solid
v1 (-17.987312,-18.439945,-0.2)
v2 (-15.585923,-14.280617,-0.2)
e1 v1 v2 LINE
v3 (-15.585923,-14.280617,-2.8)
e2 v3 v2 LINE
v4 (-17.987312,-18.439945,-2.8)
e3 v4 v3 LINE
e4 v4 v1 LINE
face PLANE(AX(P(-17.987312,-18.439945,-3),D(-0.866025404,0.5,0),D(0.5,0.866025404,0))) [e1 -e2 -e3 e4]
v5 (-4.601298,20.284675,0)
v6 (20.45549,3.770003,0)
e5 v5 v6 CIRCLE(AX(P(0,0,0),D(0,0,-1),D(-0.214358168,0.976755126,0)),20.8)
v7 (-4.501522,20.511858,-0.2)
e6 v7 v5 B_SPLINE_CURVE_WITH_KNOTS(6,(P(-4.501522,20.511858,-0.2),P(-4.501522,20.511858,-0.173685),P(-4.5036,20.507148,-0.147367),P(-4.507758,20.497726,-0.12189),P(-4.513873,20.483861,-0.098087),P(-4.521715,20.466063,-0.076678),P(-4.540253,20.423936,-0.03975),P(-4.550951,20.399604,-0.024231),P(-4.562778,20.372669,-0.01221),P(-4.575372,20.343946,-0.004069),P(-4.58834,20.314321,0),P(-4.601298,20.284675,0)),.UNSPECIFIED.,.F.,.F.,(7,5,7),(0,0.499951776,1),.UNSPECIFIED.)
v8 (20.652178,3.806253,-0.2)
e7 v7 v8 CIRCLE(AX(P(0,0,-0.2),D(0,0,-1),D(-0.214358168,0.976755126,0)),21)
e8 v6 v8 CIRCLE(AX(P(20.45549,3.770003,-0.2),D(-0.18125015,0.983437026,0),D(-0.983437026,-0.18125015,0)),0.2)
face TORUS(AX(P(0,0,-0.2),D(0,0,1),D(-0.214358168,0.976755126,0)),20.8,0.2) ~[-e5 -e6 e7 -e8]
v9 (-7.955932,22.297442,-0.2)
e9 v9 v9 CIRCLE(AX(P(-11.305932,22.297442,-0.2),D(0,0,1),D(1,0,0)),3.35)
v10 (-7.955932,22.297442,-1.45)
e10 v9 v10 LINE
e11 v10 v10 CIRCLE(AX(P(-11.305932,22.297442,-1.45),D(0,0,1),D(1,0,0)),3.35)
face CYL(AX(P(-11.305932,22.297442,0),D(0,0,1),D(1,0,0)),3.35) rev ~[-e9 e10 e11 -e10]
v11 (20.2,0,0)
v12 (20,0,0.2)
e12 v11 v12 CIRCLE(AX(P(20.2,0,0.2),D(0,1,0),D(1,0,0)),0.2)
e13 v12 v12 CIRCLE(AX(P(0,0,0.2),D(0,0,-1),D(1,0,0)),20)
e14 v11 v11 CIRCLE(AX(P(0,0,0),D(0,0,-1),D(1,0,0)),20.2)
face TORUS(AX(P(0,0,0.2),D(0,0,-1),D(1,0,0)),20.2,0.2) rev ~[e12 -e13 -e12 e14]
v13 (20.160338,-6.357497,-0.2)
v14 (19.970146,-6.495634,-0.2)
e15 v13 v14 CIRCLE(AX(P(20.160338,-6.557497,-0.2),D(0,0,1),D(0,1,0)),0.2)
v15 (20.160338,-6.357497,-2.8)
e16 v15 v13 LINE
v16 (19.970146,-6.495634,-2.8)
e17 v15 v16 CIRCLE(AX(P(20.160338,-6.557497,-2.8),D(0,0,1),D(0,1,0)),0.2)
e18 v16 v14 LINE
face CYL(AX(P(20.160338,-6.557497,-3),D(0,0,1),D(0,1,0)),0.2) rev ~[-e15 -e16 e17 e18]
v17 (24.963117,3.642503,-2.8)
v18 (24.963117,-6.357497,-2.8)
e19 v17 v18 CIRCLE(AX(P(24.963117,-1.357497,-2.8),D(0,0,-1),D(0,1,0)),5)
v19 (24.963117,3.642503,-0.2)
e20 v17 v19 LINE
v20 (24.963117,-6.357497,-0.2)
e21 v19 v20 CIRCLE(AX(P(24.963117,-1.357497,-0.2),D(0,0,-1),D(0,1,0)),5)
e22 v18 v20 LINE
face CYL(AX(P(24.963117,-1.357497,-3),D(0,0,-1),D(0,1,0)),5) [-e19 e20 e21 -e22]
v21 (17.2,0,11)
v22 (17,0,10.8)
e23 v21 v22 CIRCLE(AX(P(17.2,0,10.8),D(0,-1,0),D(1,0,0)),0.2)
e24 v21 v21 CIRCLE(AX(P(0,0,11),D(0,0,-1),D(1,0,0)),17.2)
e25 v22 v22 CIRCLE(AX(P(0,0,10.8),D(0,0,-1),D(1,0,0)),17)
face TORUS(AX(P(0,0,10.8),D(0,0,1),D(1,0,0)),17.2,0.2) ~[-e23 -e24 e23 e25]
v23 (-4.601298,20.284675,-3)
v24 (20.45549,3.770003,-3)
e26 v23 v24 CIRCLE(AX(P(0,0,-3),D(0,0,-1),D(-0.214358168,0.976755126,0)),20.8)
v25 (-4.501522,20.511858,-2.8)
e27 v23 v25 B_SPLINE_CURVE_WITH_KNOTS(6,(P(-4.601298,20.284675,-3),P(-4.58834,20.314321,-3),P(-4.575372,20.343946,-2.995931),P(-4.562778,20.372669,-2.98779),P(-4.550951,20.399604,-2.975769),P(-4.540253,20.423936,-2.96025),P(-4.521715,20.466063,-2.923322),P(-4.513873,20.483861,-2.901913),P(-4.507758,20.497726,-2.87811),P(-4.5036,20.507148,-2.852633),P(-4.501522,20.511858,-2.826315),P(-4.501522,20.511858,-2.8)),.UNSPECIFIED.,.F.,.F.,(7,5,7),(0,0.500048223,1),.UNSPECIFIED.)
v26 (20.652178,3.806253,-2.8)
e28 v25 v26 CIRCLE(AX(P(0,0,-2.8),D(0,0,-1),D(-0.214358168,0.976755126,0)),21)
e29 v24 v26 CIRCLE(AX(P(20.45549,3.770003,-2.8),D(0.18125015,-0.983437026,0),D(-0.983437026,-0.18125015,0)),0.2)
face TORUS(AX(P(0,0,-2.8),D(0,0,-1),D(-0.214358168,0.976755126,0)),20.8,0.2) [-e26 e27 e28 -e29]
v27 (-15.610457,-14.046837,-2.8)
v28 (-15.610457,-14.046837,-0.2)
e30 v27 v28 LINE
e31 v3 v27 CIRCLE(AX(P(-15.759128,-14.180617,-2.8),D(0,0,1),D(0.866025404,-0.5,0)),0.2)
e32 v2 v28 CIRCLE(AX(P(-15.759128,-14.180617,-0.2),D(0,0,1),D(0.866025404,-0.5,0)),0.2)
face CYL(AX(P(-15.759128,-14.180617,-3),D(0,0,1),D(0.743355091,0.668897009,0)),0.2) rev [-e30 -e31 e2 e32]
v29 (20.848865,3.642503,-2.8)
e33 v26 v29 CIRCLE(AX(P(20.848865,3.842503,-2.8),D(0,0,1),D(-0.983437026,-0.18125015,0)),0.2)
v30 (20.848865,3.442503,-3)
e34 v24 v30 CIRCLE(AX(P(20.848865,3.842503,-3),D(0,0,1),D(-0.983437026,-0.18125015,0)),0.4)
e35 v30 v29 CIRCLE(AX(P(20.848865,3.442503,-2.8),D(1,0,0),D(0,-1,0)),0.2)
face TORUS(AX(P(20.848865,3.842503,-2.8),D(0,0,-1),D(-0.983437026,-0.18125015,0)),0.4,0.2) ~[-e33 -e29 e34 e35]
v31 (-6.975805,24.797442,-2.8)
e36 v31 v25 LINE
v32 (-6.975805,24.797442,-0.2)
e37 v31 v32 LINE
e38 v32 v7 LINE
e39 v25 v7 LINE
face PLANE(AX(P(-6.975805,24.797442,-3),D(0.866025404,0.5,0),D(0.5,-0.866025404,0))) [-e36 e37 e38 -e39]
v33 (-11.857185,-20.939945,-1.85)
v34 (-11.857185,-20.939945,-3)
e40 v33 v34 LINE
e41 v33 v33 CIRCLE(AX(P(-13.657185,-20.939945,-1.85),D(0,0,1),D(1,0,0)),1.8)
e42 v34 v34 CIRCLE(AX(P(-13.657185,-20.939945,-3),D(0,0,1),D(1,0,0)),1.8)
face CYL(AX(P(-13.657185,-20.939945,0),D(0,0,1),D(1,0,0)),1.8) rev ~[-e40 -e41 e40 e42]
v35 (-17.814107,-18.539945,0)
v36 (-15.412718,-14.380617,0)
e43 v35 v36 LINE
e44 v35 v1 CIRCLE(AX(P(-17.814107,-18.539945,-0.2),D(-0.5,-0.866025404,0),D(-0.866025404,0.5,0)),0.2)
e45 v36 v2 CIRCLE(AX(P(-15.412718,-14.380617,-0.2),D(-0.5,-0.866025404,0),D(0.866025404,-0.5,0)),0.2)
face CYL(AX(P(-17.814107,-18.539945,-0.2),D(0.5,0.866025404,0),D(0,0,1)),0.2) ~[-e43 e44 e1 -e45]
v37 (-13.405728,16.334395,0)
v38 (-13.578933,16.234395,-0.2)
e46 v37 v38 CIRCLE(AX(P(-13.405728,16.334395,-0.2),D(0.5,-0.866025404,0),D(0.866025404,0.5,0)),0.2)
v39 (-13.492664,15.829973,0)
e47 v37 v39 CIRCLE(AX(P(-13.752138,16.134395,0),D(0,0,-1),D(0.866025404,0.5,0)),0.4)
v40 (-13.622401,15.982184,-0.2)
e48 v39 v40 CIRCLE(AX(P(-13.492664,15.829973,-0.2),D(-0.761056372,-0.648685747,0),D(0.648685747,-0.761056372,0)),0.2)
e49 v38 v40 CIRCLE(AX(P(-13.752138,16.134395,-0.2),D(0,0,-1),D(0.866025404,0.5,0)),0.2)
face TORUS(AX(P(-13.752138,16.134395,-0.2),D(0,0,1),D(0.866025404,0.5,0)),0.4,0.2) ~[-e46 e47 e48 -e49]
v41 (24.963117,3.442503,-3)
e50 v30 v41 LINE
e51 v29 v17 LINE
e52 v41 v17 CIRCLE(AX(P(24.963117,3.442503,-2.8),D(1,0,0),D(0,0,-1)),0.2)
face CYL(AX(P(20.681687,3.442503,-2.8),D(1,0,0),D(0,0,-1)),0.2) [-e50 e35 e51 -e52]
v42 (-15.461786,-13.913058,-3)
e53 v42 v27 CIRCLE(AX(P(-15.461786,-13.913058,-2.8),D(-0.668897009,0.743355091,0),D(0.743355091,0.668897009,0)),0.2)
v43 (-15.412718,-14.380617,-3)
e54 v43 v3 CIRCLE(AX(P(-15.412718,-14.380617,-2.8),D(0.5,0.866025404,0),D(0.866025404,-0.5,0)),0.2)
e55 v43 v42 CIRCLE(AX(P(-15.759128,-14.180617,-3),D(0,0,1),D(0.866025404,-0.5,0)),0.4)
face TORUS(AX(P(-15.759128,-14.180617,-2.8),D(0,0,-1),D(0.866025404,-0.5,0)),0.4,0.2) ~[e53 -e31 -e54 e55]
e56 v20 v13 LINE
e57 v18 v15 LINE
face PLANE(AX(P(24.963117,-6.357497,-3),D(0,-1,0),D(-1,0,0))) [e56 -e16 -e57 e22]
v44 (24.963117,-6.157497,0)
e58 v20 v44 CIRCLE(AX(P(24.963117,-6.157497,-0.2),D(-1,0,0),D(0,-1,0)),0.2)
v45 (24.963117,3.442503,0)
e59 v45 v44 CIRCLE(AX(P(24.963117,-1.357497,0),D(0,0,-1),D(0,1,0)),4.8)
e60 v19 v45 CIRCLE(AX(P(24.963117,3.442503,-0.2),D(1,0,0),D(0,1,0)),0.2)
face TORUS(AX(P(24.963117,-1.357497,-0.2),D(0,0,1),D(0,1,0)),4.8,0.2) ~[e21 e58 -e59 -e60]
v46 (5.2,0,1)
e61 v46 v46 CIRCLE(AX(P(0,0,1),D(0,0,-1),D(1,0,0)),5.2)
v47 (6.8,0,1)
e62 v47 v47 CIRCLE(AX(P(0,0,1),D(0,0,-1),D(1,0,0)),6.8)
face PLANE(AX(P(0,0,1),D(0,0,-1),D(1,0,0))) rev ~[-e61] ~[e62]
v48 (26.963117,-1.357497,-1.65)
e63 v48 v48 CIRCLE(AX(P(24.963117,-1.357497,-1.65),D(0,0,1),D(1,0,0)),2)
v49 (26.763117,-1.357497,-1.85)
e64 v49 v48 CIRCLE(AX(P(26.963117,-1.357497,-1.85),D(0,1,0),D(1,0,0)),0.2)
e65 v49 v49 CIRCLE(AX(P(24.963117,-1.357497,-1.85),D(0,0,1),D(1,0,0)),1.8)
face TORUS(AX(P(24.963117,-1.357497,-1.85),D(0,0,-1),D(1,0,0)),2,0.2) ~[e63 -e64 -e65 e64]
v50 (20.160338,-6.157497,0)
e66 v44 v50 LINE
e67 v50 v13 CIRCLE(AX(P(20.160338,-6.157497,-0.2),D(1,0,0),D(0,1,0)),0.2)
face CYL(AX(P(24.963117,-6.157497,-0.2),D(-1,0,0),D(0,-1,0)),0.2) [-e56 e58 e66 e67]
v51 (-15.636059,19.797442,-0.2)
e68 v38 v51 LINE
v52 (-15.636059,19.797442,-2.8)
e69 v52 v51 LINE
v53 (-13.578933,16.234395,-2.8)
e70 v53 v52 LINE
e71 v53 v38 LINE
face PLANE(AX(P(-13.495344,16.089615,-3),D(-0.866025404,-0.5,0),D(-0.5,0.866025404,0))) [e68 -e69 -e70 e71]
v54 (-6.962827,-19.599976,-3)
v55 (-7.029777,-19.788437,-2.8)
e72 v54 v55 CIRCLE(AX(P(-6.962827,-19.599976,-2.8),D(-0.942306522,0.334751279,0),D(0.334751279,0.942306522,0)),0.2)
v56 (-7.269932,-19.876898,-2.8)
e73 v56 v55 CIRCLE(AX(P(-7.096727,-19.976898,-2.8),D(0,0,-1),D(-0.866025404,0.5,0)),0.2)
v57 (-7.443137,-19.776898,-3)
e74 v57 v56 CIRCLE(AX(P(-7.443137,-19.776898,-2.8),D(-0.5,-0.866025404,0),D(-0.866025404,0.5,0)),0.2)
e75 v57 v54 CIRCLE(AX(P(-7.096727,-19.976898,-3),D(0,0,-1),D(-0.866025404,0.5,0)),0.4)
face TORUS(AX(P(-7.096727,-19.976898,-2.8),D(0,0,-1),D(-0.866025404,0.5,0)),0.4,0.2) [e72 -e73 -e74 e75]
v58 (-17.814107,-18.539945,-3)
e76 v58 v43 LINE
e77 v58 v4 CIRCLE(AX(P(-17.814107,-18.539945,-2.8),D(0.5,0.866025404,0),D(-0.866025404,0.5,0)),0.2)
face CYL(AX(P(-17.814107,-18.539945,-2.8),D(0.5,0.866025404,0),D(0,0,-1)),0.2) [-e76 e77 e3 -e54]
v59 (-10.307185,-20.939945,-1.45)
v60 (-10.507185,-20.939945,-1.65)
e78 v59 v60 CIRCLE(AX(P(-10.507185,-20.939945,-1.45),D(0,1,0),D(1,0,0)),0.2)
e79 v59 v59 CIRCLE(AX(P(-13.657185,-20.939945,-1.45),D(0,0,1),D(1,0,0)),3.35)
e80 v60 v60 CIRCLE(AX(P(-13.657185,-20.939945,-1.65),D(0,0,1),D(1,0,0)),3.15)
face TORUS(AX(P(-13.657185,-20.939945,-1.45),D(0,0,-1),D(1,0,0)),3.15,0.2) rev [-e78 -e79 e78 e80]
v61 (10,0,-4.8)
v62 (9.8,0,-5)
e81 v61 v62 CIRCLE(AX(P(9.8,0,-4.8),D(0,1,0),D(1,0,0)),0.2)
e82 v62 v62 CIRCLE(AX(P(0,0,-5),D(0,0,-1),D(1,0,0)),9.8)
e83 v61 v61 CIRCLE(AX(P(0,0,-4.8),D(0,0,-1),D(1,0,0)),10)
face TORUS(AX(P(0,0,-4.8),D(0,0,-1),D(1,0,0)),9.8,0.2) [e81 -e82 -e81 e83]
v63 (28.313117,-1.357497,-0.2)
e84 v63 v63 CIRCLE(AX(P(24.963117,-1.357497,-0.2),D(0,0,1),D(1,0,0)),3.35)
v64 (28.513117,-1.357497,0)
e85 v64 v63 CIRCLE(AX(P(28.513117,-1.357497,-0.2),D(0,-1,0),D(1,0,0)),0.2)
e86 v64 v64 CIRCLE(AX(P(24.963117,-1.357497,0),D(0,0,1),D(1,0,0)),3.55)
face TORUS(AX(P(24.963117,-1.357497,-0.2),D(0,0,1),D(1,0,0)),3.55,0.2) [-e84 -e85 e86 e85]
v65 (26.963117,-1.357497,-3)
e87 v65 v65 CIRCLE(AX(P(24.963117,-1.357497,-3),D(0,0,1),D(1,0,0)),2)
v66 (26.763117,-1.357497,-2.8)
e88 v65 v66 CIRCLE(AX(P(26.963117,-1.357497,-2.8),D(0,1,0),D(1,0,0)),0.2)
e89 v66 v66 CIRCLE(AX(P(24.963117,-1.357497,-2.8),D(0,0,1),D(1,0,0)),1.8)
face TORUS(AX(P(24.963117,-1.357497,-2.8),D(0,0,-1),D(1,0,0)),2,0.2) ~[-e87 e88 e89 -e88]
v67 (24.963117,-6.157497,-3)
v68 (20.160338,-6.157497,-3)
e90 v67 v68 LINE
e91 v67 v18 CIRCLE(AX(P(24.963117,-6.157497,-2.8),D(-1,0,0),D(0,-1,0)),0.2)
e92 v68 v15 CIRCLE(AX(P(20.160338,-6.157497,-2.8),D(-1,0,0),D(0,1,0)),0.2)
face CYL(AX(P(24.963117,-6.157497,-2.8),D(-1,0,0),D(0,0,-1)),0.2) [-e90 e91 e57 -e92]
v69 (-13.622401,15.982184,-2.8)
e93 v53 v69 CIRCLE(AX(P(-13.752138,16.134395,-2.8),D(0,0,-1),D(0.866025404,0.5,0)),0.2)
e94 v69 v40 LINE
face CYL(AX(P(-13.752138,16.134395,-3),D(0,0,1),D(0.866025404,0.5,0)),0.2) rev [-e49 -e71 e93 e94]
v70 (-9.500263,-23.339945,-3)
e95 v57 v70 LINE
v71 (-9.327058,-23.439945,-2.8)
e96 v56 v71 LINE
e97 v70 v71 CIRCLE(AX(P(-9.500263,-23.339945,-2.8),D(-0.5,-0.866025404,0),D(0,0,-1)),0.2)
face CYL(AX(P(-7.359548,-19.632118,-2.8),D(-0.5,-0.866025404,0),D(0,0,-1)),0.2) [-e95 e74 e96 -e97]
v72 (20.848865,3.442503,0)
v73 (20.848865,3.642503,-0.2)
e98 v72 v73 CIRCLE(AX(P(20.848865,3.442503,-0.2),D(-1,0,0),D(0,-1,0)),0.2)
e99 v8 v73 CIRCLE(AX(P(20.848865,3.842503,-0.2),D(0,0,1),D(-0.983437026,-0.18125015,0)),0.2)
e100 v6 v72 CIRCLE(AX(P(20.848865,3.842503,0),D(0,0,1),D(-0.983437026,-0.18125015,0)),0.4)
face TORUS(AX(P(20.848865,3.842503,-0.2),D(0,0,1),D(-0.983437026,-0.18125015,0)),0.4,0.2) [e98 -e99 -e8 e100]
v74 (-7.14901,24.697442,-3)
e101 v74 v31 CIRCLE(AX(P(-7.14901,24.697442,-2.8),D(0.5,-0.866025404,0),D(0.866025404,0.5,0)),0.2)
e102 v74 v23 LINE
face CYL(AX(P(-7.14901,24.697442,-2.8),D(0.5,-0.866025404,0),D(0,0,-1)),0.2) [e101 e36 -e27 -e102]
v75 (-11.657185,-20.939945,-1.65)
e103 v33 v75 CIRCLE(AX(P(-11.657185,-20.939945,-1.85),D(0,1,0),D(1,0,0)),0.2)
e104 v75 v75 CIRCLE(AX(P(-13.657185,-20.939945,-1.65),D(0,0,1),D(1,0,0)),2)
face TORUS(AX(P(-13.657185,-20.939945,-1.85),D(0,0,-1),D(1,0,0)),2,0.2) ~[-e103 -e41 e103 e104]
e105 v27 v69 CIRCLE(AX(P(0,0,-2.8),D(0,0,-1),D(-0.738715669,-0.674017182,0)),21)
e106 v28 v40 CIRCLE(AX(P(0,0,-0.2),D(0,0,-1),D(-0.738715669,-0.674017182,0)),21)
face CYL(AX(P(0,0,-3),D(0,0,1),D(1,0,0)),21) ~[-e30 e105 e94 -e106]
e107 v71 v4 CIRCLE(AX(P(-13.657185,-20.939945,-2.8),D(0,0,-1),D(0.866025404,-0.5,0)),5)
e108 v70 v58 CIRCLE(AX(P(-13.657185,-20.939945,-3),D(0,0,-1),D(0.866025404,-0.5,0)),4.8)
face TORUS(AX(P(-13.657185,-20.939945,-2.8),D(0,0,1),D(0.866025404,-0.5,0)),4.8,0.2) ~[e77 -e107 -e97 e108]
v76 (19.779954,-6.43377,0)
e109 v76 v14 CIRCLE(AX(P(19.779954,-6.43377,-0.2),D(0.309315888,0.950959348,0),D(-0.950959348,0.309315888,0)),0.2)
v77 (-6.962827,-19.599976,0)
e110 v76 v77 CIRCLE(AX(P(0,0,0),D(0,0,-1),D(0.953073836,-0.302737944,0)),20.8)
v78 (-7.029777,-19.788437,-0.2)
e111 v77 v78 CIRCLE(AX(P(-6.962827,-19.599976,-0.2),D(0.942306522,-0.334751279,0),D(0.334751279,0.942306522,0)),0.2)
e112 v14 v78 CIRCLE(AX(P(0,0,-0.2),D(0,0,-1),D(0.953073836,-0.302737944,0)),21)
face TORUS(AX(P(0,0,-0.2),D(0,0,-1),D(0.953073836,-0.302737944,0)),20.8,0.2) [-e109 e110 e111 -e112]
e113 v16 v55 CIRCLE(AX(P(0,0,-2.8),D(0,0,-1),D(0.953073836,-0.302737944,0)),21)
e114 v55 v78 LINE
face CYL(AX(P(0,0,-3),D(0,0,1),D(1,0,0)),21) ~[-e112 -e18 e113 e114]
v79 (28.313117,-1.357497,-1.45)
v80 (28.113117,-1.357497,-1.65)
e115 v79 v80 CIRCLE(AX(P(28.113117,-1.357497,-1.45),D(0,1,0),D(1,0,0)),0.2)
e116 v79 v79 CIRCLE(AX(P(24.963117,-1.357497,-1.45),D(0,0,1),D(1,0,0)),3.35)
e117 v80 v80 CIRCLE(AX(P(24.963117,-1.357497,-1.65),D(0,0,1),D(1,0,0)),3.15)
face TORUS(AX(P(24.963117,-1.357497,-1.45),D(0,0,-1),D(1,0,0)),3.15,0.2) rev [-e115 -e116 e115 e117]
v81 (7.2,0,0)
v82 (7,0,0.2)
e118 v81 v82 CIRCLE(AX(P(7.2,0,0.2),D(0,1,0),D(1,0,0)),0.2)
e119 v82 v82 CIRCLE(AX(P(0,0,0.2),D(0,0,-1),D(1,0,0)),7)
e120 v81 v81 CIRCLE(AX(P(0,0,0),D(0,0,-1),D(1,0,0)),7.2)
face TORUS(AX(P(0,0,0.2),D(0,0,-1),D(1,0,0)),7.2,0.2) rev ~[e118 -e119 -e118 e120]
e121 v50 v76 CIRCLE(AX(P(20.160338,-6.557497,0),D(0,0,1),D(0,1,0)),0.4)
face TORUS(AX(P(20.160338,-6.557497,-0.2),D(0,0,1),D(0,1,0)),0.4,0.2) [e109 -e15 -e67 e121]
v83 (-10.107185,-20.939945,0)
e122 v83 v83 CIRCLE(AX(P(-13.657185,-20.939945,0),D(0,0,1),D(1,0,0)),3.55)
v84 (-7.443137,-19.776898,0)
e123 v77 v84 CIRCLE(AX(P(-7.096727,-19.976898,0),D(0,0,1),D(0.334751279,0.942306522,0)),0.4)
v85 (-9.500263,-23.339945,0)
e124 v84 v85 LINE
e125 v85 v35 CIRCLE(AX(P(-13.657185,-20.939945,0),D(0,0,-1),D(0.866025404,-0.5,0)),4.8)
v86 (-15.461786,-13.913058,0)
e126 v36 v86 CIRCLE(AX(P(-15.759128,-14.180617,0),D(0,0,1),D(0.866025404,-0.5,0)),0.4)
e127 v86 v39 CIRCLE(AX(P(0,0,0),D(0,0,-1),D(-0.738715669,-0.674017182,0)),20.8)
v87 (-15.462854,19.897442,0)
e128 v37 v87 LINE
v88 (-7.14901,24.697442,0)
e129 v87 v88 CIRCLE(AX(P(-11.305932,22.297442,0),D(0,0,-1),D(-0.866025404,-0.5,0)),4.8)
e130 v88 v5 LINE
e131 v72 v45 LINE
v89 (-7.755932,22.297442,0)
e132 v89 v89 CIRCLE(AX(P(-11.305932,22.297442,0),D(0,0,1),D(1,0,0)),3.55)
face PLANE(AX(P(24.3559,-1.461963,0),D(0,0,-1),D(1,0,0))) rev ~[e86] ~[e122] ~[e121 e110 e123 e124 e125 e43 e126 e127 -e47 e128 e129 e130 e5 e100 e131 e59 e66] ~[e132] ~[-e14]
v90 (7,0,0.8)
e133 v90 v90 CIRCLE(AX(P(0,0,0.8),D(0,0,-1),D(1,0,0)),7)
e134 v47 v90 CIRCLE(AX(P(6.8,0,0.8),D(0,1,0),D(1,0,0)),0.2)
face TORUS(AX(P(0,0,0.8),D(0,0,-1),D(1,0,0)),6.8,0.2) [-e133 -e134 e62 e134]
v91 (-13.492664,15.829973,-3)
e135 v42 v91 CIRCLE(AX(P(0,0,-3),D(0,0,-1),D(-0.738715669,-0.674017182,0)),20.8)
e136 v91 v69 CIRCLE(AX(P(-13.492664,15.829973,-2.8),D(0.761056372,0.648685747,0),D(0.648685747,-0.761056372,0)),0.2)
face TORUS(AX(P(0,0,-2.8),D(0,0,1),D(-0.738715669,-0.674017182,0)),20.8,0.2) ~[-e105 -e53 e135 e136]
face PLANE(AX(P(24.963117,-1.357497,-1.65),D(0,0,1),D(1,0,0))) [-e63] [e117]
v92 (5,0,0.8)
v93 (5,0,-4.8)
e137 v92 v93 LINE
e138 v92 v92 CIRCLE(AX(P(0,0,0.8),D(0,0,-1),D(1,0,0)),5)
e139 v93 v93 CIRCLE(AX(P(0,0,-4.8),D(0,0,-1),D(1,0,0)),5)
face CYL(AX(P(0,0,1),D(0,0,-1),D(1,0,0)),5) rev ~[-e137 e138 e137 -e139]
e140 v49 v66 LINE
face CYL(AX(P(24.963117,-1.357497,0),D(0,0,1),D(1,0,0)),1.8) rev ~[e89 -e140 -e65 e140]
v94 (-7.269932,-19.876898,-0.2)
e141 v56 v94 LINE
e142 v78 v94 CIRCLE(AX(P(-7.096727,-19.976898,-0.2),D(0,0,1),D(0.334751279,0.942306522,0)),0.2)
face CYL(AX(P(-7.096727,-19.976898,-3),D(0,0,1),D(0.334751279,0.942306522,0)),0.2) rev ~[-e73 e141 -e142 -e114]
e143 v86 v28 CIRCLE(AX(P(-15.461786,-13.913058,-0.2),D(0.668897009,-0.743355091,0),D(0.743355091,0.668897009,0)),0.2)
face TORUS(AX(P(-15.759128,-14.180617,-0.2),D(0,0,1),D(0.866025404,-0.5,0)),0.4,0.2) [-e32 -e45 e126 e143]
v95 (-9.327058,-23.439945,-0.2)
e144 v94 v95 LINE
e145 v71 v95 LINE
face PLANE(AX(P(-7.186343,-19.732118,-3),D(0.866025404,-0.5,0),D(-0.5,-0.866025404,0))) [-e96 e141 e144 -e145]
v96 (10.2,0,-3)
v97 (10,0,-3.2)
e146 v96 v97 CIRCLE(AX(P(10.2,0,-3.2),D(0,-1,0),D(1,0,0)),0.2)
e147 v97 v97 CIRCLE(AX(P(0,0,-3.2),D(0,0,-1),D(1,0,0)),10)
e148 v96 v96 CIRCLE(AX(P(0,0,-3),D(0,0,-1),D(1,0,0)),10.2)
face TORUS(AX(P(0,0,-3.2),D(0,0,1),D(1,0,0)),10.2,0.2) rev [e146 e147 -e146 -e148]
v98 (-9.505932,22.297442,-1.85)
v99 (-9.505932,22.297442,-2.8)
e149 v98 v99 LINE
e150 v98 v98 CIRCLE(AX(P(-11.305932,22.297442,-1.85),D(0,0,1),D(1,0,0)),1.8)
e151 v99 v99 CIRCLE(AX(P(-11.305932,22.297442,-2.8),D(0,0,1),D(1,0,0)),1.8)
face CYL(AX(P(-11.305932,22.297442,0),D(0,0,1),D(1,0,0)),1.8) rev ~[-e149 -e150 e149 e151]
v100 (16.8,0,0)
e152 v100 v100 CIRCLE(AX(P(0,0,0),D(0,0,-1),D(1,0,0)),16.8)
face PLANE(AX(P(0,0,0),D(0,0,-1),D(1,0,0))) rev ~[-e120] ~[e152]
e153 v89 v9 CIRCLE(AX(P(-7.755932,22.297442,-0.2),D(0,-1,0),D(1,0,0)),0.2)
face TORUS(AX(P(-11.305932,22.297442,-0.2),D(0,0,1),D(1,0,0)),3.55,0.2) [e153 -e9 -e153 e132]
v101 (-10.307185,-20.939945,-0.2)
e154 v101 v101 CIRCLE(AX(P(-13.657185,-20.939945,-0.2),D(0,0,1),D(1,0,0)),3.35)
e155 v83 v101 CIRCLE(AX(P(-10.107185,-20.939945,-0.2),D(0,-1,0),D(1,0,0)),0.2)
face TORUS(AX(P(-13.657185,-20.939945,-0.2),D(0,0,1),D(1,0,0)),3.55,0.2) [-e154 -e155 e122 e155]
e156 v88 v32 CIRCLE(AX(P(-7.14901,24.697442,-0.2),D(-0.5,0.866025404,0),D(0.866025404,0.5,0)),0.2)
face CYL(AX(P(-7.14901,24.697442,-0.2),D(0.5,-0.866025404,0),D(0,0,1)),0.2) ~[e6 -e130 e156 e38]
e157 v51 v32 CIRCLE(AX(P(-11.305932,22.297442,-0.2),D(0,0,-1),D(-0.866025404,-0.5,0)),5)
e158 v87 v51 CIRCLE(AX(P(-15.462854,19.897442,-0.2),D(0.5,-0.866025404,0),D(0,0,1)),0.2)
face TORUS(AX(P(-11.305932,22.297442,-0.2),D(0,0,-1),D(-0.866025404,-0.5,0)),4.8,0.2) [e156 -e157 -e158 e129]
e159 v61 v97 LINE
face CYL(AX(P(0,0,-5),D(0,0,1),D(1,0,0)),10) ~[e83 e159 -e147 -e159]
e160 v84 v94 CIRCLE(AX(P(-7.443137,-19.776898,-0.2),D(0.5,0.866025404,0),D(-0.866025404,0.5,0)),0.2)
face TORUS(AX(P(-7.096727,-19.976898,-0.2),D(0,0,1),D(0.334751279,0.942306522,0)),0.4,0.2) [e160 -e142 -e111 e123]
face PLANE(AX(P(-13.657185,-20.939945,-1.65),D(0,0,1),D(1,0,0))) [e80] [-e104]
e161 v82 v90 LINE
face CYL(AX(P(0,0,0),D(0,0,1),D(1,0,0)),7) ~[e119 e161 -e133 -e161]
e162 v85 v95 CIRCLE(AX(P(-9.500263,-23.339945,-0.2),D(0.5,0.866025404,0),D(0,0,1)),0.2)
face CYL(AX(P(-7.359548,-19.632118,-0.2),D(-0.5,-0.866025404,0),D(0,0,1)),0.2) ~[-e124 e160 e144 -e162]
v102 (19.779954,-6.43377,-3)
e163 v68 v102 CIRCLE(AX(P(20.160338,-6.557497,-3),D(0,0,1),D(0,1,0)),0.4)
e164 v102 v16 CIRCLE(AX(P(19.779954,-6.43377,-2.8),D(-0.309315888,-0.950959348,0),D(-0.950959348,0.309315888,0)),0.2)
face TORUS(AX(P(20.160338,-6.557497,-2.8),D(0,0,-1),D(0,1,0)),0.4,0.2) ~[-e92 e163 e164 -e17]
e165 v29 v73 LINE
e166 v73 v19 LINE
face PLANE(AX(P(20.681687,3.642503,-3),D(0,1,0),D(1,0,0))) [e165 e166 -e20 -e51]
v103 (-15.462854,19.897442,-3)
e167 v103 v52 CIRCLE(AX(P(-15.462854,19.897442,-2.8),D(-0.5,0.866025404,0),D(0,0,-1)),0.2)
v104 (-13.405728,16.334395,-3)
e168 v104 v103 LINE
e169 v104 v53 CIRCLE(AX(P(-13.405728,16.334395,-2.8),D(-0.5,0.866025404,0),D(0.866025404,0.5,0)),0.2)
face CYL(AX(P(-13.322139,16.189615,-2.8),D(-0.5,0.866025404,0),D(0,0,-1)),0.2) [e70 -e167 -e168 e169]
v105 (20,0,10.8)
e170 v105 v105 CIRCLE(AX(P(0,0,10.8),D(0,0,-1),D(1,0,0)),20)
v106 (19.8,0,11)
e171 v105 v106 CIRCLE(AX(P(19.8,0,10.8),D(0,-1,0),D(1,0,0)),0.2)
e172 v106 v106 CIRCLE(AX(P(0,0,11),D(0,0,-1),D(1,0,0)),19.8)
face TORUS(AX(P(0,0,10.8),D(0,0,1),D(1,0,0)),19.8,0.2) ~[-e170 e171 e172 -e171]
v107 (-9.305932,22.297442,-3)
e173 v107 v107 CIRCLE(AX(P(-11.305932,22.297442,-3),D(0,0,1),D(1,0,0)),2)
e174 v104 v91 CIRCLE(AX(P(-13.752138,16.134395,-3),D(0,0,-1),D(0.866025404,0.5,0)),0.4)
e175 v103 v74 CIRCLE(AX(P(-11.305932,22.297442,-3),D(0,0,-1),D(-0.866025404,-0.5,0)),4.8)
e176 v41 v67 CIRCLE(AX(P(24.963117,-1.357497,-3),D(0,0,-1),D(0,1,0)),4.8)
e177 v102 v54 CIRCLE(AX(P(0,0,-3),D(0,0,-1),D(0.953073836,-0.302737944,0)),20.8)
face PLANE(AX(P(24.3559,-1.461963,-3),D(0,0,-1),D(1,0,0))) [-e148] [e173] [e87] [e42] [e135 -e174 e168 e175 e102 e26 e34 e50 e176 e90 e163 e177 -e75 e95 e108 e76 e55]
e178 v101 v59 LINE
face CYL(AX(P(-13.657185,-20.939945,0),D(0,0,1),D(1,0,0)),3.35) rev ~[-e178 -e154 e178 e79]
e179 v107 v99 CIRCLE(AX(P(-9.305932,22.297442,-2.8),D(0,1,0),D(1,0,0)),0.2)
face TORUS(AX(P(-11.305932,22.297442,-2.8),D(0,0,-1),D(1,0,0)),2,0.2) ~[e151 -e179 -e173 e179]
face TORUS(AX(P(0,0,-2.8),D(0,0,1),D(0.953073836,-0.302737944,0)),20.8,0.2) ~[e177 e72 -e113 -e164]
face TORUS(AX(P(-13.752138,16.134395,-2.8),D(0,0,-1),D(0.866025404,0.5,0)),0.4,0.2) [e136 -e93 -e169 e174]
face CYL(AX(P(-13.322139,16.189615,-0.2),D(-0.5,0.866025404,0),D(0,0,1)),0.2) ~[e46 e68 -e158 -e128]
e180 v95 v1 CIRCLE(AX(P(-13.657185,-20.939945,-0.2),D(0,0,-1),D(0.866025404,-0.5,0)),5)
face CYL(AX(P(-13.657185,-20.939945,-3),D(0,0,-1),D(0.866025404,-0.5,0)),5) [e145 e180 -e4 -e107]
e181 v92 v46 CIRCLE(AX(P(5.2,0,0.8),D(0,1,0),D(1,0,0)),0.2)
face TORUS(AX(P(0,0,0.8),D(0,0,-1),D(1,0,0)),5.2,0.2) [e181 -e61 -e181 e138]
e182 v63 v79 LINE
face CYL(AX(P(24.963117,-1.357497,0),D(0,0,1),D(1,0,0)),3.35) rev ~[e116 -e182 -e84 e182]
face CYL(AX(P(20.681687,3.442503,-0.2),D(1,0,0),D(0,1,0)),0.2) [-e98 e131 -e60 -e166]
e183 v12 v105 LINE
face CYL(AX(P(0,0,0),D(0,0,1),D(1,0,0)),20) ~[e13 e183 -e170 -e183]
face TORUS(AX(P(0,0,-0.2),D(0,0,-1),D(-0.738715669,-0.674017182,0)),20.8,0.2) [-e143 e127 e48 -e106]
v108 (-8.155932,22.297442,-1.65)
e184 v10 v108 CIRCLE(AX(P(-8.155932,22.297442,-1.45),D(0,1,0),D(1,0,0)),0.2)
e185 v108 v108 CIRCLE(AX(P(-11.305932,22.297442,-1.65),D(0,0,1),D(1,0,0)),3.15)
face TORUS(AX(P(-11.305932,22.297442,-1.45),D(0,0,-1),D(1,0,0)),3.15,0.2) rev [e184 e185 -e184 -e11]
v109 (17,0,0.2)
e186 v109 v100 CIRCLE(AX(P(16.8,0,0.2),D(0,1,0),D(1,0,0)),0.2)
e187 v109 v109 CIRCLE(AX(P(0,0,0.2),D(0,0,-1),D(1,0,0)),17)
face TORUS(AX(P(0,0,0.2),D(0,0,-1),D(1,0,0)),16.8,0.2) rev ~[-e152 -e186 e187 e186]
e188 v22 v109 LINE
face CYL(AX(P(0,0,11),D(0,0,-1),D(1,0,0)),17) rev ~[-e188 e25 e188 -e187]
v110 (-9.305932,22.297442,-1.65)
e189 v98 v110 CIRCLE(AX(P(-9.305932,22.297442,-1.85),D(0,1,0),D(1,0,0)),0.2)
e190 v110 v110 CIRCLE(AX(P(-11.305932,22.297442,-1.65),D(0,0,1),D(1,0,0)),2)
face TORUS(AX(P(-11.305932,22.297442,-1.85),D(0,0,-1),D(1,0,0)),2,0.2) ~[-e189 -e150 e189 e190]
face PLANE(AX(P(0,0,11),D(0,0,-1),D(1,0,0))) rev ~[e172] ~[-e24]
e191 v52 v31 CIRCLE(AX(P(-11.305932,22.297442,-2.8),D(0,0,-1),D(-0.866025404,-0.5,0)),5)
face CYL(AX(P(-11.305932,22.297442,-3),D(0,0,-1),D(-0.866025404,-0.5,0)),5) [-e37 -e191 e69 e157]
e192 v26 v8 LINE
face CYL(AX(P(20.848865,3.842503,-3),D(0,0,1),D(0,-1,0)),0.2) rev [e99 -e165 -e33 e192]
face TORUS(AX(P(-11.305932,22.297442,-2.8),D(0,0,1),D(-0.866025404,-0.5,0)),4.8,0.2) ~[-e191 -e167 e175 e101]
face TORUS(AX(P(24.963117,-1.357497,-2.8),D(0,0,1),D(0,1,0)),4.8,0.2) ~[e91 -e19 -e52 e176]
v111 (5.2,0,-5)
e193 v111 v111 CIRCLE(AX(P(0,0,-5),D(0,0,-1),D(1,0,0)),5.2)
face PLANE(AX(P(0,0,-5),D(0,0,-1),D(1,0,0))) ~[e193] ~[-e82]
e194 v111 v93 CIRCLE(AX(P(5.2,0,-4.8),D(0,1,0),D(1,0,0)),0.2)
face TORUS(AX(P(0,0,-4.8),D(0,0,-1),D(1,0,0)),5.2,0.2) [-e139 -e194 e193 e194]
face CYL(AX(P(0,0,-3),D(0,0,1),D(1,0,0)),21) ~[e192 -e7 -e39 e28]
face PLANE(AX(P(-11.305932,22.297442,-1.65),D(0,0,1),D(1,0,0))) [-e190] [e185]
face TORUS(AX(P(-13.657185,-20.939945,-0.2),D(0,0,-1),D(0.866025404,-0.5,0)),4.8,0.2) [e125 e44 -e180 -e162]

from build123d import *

# Parameters (mm, degrees)
F4_DEPTH = 3
F5_R     = 1.8
F6_DEPTH = 5.001
F7_R     = 3.35
F7_R_2   = 1.8
F8_DEPTH = 1.65
F9_R     = 0.2


with BuildPart() as f2:
    # F0 (on Front) → F2 (revolve)
    with BuildSketch(Plane.XZ):
        Polygon((17, 0), (7, 0), (7, 1), (5, 1), (5, 0), (5, -5), (10, -5), (10, -3), (21, -3), (21, 0), (20, 0), (20, 11), (17, 11), align=None)
    revolve(axis=Axis((0, 0, -2.7287662961), (0, 0, -1)))

    # F3 (on face) → F4 (join)
    with BuildSketch(Plane(origin=(0, 0, -3), x_dir=(1, 0, 0), z_dir=(0, 0, -1))):
        with BuildLine():
            Line((20.6816868426, -3.6425031699), (24.9631168398, -3.6425031699))
            ThreePointArc((24.9631168398, -3.6425031699), (29.9631168398, 1.3574968301), (24.9631168398, 6.3574968301))
            Line((24.9631168398, 6.3574968301), (20.0145505584, 6.3574968301))
            ThreePointArc((20.0145505584, 6.3574968301), (20.7521753285, 3.2167093646), (21, 0))
            ThreePointArc((21, 0), (20.9202703579, -1.8281925917), (20.6816868426, -3.6425031699))
        make_face()
        with BuildLine():
            ThreePointArc((-15.5130290385, 14.1543608139), (-11.687310108, 17.4472571609), (-7.1863431428, 19.7321177838))
            Line((-7.1863431428, 19.7321177838), (-9.3270581414, 23.4399449259))
            ThreePointArc((-9.3270581414, 23.4399449259), (-16.1571851603, 25.2700719448), (-17.9873121792, 18.4399449259))
            Line((-17.9873121792, 18.4399449259), (-15.5130290385, 14.1543608139))
        make_face()
        with BuildLine():
            Line((-6.9758046606, -24.7974417559), (-4.5015215199, -20.511857644))
            ThreePointArc((-4.5015215199, -20.511857644), (-9.2661128737, -18.8451360359), (-13.4953436999, -16.0896146139))
            Line((-13.4953436999, -16.0896146139), (-15.6360586984, -19.7974417559))
            ThreePointArc((-15.6360586984, -19.7974417559), (-13.8059316795, -26.6275687748), (-6.9758046606, -24.7974417559))
        make_face()
    extrude(amount=-F4_DEPTH)

    # F5 (on face) → F6 (cut, through all)
    with BuildSketch(Plane.XY):
        with Locations((-13.6571851603, -20.9399449259)):
            Circle(F5_R)
        with Locations((24.9631168398, -1.3574968301)):
            Circle(F5_R)
        with Locations((-11.3059316795, 22.2974417559)):
            Circle(F5_R)
    extrude(amount=-F6_DEPTH, mode=Mode.SUBTRACT)

    # F7 (on face) → F8 (cut)
    with BuildSketch(Plane.XY):
        with Locations((-13.6571851603, -20.9399449259)):
            Circle(F7_R)
        with Locations((-13.6571851603, -20.9399449259)):
            Circle(F7_R_2, mode=Mode.SUBTRACT)
        with Locations((24.9631168398, -1.3574968301)):
            Circle(F7_R)
        with Locations((24.9631168398, -1.3574968301)):
            Circle(F7_R_2, mode=Mode.SUBTRACT)
        with Locations((-11.3059316795, 22.2974417559)):
            Circle(F7_R)
        with Locations((-11.3059316795, 22.2974417559)):
            Circle(F7_R_2, mode=Mode.SUBTRACT)
    extrude(amount=-F8_DEPTH, mode=Mode.SUBTRACT)

    # F9
    f9_edges = [f2.edges().sort_by_distance(p)[0] for p in [
        (-17, 0, 11),
        (-20, 0, 11),
        (-17, 0, 0),
        (-7, 0, 1),
        (-5, 0, 1),
        (-7, 0, 0),
        (11.68731, 17.447257, 0),
        (-20, 0, 0),
        (-5.738663, 22.65465, 0),
        (-13.805932, 26.627569, 0),
        (-14.565701, 17.943528, 0),
        (-14.655932, 22.297442, 0),
        (-14.655932, 22.297442, -1.65),
        (-13.105932, 22.297442, -1.65),
        (-13.105932, 22.297442, -3),
        (-5.738663, 22.65465, -3),
        (-13.805932, 26.627569, -3),
        (11.68731, 17.447257, -3),
        (22.822402, 3.642503, 0),
        (21.613117, -1.357497, 0),
        (21.613117, -1.357497, -1.65),
        (23.163117, -1.357497, -3),
        (23.163117, -1.357497, -1.65),
        (22.488834, -6.357497, 0),
        (29.963117, -1.357497, 0),
        (9.266113, -18.845136, 0),
        (-8.256701, -21.586031, 0),
        (9.266113, -18.845136, -3),
        (-7.186343, -19.732118, -1.5),
        (20.014551, -6.357497, -1.5),
        (22.488834, -6.357497, -3),
        (29.963117, -1.357497, -3),
        (-8.256701, -21.586031, -3),
        (-16.157185, -25.270072, -3),
        (-17.007185, -20.939945, 0),
        (-17.007185, -20.939945, -1.65),
        (-15.457185, -20.939945, -1.65),
        (-16.157185, -25.270072, 0),
        (-20.953423, 1.397879, 0),
        (-16.750171, -16.297153, 0),
        (-16.750171, -16.297153, -3),
        (-20.953423, 1.397879, -3),
        (22.822402, 3.642503, -3),
        (-5, 0, -5),
        (-10, 0, -5),
        (-10, 0, -3),
        (-14.565701, 17.943528, -3),
        (-15.513029, -14.154361, -1.5),
        (-13.495344, 16.089615, -1.5),
        (-17.987312, -18.439945, -1.5),
        (20.681687, 3.642503, -1.5),
    ]]
    fillet(f9_edges, radius=F9_R)


solid = f2.part
